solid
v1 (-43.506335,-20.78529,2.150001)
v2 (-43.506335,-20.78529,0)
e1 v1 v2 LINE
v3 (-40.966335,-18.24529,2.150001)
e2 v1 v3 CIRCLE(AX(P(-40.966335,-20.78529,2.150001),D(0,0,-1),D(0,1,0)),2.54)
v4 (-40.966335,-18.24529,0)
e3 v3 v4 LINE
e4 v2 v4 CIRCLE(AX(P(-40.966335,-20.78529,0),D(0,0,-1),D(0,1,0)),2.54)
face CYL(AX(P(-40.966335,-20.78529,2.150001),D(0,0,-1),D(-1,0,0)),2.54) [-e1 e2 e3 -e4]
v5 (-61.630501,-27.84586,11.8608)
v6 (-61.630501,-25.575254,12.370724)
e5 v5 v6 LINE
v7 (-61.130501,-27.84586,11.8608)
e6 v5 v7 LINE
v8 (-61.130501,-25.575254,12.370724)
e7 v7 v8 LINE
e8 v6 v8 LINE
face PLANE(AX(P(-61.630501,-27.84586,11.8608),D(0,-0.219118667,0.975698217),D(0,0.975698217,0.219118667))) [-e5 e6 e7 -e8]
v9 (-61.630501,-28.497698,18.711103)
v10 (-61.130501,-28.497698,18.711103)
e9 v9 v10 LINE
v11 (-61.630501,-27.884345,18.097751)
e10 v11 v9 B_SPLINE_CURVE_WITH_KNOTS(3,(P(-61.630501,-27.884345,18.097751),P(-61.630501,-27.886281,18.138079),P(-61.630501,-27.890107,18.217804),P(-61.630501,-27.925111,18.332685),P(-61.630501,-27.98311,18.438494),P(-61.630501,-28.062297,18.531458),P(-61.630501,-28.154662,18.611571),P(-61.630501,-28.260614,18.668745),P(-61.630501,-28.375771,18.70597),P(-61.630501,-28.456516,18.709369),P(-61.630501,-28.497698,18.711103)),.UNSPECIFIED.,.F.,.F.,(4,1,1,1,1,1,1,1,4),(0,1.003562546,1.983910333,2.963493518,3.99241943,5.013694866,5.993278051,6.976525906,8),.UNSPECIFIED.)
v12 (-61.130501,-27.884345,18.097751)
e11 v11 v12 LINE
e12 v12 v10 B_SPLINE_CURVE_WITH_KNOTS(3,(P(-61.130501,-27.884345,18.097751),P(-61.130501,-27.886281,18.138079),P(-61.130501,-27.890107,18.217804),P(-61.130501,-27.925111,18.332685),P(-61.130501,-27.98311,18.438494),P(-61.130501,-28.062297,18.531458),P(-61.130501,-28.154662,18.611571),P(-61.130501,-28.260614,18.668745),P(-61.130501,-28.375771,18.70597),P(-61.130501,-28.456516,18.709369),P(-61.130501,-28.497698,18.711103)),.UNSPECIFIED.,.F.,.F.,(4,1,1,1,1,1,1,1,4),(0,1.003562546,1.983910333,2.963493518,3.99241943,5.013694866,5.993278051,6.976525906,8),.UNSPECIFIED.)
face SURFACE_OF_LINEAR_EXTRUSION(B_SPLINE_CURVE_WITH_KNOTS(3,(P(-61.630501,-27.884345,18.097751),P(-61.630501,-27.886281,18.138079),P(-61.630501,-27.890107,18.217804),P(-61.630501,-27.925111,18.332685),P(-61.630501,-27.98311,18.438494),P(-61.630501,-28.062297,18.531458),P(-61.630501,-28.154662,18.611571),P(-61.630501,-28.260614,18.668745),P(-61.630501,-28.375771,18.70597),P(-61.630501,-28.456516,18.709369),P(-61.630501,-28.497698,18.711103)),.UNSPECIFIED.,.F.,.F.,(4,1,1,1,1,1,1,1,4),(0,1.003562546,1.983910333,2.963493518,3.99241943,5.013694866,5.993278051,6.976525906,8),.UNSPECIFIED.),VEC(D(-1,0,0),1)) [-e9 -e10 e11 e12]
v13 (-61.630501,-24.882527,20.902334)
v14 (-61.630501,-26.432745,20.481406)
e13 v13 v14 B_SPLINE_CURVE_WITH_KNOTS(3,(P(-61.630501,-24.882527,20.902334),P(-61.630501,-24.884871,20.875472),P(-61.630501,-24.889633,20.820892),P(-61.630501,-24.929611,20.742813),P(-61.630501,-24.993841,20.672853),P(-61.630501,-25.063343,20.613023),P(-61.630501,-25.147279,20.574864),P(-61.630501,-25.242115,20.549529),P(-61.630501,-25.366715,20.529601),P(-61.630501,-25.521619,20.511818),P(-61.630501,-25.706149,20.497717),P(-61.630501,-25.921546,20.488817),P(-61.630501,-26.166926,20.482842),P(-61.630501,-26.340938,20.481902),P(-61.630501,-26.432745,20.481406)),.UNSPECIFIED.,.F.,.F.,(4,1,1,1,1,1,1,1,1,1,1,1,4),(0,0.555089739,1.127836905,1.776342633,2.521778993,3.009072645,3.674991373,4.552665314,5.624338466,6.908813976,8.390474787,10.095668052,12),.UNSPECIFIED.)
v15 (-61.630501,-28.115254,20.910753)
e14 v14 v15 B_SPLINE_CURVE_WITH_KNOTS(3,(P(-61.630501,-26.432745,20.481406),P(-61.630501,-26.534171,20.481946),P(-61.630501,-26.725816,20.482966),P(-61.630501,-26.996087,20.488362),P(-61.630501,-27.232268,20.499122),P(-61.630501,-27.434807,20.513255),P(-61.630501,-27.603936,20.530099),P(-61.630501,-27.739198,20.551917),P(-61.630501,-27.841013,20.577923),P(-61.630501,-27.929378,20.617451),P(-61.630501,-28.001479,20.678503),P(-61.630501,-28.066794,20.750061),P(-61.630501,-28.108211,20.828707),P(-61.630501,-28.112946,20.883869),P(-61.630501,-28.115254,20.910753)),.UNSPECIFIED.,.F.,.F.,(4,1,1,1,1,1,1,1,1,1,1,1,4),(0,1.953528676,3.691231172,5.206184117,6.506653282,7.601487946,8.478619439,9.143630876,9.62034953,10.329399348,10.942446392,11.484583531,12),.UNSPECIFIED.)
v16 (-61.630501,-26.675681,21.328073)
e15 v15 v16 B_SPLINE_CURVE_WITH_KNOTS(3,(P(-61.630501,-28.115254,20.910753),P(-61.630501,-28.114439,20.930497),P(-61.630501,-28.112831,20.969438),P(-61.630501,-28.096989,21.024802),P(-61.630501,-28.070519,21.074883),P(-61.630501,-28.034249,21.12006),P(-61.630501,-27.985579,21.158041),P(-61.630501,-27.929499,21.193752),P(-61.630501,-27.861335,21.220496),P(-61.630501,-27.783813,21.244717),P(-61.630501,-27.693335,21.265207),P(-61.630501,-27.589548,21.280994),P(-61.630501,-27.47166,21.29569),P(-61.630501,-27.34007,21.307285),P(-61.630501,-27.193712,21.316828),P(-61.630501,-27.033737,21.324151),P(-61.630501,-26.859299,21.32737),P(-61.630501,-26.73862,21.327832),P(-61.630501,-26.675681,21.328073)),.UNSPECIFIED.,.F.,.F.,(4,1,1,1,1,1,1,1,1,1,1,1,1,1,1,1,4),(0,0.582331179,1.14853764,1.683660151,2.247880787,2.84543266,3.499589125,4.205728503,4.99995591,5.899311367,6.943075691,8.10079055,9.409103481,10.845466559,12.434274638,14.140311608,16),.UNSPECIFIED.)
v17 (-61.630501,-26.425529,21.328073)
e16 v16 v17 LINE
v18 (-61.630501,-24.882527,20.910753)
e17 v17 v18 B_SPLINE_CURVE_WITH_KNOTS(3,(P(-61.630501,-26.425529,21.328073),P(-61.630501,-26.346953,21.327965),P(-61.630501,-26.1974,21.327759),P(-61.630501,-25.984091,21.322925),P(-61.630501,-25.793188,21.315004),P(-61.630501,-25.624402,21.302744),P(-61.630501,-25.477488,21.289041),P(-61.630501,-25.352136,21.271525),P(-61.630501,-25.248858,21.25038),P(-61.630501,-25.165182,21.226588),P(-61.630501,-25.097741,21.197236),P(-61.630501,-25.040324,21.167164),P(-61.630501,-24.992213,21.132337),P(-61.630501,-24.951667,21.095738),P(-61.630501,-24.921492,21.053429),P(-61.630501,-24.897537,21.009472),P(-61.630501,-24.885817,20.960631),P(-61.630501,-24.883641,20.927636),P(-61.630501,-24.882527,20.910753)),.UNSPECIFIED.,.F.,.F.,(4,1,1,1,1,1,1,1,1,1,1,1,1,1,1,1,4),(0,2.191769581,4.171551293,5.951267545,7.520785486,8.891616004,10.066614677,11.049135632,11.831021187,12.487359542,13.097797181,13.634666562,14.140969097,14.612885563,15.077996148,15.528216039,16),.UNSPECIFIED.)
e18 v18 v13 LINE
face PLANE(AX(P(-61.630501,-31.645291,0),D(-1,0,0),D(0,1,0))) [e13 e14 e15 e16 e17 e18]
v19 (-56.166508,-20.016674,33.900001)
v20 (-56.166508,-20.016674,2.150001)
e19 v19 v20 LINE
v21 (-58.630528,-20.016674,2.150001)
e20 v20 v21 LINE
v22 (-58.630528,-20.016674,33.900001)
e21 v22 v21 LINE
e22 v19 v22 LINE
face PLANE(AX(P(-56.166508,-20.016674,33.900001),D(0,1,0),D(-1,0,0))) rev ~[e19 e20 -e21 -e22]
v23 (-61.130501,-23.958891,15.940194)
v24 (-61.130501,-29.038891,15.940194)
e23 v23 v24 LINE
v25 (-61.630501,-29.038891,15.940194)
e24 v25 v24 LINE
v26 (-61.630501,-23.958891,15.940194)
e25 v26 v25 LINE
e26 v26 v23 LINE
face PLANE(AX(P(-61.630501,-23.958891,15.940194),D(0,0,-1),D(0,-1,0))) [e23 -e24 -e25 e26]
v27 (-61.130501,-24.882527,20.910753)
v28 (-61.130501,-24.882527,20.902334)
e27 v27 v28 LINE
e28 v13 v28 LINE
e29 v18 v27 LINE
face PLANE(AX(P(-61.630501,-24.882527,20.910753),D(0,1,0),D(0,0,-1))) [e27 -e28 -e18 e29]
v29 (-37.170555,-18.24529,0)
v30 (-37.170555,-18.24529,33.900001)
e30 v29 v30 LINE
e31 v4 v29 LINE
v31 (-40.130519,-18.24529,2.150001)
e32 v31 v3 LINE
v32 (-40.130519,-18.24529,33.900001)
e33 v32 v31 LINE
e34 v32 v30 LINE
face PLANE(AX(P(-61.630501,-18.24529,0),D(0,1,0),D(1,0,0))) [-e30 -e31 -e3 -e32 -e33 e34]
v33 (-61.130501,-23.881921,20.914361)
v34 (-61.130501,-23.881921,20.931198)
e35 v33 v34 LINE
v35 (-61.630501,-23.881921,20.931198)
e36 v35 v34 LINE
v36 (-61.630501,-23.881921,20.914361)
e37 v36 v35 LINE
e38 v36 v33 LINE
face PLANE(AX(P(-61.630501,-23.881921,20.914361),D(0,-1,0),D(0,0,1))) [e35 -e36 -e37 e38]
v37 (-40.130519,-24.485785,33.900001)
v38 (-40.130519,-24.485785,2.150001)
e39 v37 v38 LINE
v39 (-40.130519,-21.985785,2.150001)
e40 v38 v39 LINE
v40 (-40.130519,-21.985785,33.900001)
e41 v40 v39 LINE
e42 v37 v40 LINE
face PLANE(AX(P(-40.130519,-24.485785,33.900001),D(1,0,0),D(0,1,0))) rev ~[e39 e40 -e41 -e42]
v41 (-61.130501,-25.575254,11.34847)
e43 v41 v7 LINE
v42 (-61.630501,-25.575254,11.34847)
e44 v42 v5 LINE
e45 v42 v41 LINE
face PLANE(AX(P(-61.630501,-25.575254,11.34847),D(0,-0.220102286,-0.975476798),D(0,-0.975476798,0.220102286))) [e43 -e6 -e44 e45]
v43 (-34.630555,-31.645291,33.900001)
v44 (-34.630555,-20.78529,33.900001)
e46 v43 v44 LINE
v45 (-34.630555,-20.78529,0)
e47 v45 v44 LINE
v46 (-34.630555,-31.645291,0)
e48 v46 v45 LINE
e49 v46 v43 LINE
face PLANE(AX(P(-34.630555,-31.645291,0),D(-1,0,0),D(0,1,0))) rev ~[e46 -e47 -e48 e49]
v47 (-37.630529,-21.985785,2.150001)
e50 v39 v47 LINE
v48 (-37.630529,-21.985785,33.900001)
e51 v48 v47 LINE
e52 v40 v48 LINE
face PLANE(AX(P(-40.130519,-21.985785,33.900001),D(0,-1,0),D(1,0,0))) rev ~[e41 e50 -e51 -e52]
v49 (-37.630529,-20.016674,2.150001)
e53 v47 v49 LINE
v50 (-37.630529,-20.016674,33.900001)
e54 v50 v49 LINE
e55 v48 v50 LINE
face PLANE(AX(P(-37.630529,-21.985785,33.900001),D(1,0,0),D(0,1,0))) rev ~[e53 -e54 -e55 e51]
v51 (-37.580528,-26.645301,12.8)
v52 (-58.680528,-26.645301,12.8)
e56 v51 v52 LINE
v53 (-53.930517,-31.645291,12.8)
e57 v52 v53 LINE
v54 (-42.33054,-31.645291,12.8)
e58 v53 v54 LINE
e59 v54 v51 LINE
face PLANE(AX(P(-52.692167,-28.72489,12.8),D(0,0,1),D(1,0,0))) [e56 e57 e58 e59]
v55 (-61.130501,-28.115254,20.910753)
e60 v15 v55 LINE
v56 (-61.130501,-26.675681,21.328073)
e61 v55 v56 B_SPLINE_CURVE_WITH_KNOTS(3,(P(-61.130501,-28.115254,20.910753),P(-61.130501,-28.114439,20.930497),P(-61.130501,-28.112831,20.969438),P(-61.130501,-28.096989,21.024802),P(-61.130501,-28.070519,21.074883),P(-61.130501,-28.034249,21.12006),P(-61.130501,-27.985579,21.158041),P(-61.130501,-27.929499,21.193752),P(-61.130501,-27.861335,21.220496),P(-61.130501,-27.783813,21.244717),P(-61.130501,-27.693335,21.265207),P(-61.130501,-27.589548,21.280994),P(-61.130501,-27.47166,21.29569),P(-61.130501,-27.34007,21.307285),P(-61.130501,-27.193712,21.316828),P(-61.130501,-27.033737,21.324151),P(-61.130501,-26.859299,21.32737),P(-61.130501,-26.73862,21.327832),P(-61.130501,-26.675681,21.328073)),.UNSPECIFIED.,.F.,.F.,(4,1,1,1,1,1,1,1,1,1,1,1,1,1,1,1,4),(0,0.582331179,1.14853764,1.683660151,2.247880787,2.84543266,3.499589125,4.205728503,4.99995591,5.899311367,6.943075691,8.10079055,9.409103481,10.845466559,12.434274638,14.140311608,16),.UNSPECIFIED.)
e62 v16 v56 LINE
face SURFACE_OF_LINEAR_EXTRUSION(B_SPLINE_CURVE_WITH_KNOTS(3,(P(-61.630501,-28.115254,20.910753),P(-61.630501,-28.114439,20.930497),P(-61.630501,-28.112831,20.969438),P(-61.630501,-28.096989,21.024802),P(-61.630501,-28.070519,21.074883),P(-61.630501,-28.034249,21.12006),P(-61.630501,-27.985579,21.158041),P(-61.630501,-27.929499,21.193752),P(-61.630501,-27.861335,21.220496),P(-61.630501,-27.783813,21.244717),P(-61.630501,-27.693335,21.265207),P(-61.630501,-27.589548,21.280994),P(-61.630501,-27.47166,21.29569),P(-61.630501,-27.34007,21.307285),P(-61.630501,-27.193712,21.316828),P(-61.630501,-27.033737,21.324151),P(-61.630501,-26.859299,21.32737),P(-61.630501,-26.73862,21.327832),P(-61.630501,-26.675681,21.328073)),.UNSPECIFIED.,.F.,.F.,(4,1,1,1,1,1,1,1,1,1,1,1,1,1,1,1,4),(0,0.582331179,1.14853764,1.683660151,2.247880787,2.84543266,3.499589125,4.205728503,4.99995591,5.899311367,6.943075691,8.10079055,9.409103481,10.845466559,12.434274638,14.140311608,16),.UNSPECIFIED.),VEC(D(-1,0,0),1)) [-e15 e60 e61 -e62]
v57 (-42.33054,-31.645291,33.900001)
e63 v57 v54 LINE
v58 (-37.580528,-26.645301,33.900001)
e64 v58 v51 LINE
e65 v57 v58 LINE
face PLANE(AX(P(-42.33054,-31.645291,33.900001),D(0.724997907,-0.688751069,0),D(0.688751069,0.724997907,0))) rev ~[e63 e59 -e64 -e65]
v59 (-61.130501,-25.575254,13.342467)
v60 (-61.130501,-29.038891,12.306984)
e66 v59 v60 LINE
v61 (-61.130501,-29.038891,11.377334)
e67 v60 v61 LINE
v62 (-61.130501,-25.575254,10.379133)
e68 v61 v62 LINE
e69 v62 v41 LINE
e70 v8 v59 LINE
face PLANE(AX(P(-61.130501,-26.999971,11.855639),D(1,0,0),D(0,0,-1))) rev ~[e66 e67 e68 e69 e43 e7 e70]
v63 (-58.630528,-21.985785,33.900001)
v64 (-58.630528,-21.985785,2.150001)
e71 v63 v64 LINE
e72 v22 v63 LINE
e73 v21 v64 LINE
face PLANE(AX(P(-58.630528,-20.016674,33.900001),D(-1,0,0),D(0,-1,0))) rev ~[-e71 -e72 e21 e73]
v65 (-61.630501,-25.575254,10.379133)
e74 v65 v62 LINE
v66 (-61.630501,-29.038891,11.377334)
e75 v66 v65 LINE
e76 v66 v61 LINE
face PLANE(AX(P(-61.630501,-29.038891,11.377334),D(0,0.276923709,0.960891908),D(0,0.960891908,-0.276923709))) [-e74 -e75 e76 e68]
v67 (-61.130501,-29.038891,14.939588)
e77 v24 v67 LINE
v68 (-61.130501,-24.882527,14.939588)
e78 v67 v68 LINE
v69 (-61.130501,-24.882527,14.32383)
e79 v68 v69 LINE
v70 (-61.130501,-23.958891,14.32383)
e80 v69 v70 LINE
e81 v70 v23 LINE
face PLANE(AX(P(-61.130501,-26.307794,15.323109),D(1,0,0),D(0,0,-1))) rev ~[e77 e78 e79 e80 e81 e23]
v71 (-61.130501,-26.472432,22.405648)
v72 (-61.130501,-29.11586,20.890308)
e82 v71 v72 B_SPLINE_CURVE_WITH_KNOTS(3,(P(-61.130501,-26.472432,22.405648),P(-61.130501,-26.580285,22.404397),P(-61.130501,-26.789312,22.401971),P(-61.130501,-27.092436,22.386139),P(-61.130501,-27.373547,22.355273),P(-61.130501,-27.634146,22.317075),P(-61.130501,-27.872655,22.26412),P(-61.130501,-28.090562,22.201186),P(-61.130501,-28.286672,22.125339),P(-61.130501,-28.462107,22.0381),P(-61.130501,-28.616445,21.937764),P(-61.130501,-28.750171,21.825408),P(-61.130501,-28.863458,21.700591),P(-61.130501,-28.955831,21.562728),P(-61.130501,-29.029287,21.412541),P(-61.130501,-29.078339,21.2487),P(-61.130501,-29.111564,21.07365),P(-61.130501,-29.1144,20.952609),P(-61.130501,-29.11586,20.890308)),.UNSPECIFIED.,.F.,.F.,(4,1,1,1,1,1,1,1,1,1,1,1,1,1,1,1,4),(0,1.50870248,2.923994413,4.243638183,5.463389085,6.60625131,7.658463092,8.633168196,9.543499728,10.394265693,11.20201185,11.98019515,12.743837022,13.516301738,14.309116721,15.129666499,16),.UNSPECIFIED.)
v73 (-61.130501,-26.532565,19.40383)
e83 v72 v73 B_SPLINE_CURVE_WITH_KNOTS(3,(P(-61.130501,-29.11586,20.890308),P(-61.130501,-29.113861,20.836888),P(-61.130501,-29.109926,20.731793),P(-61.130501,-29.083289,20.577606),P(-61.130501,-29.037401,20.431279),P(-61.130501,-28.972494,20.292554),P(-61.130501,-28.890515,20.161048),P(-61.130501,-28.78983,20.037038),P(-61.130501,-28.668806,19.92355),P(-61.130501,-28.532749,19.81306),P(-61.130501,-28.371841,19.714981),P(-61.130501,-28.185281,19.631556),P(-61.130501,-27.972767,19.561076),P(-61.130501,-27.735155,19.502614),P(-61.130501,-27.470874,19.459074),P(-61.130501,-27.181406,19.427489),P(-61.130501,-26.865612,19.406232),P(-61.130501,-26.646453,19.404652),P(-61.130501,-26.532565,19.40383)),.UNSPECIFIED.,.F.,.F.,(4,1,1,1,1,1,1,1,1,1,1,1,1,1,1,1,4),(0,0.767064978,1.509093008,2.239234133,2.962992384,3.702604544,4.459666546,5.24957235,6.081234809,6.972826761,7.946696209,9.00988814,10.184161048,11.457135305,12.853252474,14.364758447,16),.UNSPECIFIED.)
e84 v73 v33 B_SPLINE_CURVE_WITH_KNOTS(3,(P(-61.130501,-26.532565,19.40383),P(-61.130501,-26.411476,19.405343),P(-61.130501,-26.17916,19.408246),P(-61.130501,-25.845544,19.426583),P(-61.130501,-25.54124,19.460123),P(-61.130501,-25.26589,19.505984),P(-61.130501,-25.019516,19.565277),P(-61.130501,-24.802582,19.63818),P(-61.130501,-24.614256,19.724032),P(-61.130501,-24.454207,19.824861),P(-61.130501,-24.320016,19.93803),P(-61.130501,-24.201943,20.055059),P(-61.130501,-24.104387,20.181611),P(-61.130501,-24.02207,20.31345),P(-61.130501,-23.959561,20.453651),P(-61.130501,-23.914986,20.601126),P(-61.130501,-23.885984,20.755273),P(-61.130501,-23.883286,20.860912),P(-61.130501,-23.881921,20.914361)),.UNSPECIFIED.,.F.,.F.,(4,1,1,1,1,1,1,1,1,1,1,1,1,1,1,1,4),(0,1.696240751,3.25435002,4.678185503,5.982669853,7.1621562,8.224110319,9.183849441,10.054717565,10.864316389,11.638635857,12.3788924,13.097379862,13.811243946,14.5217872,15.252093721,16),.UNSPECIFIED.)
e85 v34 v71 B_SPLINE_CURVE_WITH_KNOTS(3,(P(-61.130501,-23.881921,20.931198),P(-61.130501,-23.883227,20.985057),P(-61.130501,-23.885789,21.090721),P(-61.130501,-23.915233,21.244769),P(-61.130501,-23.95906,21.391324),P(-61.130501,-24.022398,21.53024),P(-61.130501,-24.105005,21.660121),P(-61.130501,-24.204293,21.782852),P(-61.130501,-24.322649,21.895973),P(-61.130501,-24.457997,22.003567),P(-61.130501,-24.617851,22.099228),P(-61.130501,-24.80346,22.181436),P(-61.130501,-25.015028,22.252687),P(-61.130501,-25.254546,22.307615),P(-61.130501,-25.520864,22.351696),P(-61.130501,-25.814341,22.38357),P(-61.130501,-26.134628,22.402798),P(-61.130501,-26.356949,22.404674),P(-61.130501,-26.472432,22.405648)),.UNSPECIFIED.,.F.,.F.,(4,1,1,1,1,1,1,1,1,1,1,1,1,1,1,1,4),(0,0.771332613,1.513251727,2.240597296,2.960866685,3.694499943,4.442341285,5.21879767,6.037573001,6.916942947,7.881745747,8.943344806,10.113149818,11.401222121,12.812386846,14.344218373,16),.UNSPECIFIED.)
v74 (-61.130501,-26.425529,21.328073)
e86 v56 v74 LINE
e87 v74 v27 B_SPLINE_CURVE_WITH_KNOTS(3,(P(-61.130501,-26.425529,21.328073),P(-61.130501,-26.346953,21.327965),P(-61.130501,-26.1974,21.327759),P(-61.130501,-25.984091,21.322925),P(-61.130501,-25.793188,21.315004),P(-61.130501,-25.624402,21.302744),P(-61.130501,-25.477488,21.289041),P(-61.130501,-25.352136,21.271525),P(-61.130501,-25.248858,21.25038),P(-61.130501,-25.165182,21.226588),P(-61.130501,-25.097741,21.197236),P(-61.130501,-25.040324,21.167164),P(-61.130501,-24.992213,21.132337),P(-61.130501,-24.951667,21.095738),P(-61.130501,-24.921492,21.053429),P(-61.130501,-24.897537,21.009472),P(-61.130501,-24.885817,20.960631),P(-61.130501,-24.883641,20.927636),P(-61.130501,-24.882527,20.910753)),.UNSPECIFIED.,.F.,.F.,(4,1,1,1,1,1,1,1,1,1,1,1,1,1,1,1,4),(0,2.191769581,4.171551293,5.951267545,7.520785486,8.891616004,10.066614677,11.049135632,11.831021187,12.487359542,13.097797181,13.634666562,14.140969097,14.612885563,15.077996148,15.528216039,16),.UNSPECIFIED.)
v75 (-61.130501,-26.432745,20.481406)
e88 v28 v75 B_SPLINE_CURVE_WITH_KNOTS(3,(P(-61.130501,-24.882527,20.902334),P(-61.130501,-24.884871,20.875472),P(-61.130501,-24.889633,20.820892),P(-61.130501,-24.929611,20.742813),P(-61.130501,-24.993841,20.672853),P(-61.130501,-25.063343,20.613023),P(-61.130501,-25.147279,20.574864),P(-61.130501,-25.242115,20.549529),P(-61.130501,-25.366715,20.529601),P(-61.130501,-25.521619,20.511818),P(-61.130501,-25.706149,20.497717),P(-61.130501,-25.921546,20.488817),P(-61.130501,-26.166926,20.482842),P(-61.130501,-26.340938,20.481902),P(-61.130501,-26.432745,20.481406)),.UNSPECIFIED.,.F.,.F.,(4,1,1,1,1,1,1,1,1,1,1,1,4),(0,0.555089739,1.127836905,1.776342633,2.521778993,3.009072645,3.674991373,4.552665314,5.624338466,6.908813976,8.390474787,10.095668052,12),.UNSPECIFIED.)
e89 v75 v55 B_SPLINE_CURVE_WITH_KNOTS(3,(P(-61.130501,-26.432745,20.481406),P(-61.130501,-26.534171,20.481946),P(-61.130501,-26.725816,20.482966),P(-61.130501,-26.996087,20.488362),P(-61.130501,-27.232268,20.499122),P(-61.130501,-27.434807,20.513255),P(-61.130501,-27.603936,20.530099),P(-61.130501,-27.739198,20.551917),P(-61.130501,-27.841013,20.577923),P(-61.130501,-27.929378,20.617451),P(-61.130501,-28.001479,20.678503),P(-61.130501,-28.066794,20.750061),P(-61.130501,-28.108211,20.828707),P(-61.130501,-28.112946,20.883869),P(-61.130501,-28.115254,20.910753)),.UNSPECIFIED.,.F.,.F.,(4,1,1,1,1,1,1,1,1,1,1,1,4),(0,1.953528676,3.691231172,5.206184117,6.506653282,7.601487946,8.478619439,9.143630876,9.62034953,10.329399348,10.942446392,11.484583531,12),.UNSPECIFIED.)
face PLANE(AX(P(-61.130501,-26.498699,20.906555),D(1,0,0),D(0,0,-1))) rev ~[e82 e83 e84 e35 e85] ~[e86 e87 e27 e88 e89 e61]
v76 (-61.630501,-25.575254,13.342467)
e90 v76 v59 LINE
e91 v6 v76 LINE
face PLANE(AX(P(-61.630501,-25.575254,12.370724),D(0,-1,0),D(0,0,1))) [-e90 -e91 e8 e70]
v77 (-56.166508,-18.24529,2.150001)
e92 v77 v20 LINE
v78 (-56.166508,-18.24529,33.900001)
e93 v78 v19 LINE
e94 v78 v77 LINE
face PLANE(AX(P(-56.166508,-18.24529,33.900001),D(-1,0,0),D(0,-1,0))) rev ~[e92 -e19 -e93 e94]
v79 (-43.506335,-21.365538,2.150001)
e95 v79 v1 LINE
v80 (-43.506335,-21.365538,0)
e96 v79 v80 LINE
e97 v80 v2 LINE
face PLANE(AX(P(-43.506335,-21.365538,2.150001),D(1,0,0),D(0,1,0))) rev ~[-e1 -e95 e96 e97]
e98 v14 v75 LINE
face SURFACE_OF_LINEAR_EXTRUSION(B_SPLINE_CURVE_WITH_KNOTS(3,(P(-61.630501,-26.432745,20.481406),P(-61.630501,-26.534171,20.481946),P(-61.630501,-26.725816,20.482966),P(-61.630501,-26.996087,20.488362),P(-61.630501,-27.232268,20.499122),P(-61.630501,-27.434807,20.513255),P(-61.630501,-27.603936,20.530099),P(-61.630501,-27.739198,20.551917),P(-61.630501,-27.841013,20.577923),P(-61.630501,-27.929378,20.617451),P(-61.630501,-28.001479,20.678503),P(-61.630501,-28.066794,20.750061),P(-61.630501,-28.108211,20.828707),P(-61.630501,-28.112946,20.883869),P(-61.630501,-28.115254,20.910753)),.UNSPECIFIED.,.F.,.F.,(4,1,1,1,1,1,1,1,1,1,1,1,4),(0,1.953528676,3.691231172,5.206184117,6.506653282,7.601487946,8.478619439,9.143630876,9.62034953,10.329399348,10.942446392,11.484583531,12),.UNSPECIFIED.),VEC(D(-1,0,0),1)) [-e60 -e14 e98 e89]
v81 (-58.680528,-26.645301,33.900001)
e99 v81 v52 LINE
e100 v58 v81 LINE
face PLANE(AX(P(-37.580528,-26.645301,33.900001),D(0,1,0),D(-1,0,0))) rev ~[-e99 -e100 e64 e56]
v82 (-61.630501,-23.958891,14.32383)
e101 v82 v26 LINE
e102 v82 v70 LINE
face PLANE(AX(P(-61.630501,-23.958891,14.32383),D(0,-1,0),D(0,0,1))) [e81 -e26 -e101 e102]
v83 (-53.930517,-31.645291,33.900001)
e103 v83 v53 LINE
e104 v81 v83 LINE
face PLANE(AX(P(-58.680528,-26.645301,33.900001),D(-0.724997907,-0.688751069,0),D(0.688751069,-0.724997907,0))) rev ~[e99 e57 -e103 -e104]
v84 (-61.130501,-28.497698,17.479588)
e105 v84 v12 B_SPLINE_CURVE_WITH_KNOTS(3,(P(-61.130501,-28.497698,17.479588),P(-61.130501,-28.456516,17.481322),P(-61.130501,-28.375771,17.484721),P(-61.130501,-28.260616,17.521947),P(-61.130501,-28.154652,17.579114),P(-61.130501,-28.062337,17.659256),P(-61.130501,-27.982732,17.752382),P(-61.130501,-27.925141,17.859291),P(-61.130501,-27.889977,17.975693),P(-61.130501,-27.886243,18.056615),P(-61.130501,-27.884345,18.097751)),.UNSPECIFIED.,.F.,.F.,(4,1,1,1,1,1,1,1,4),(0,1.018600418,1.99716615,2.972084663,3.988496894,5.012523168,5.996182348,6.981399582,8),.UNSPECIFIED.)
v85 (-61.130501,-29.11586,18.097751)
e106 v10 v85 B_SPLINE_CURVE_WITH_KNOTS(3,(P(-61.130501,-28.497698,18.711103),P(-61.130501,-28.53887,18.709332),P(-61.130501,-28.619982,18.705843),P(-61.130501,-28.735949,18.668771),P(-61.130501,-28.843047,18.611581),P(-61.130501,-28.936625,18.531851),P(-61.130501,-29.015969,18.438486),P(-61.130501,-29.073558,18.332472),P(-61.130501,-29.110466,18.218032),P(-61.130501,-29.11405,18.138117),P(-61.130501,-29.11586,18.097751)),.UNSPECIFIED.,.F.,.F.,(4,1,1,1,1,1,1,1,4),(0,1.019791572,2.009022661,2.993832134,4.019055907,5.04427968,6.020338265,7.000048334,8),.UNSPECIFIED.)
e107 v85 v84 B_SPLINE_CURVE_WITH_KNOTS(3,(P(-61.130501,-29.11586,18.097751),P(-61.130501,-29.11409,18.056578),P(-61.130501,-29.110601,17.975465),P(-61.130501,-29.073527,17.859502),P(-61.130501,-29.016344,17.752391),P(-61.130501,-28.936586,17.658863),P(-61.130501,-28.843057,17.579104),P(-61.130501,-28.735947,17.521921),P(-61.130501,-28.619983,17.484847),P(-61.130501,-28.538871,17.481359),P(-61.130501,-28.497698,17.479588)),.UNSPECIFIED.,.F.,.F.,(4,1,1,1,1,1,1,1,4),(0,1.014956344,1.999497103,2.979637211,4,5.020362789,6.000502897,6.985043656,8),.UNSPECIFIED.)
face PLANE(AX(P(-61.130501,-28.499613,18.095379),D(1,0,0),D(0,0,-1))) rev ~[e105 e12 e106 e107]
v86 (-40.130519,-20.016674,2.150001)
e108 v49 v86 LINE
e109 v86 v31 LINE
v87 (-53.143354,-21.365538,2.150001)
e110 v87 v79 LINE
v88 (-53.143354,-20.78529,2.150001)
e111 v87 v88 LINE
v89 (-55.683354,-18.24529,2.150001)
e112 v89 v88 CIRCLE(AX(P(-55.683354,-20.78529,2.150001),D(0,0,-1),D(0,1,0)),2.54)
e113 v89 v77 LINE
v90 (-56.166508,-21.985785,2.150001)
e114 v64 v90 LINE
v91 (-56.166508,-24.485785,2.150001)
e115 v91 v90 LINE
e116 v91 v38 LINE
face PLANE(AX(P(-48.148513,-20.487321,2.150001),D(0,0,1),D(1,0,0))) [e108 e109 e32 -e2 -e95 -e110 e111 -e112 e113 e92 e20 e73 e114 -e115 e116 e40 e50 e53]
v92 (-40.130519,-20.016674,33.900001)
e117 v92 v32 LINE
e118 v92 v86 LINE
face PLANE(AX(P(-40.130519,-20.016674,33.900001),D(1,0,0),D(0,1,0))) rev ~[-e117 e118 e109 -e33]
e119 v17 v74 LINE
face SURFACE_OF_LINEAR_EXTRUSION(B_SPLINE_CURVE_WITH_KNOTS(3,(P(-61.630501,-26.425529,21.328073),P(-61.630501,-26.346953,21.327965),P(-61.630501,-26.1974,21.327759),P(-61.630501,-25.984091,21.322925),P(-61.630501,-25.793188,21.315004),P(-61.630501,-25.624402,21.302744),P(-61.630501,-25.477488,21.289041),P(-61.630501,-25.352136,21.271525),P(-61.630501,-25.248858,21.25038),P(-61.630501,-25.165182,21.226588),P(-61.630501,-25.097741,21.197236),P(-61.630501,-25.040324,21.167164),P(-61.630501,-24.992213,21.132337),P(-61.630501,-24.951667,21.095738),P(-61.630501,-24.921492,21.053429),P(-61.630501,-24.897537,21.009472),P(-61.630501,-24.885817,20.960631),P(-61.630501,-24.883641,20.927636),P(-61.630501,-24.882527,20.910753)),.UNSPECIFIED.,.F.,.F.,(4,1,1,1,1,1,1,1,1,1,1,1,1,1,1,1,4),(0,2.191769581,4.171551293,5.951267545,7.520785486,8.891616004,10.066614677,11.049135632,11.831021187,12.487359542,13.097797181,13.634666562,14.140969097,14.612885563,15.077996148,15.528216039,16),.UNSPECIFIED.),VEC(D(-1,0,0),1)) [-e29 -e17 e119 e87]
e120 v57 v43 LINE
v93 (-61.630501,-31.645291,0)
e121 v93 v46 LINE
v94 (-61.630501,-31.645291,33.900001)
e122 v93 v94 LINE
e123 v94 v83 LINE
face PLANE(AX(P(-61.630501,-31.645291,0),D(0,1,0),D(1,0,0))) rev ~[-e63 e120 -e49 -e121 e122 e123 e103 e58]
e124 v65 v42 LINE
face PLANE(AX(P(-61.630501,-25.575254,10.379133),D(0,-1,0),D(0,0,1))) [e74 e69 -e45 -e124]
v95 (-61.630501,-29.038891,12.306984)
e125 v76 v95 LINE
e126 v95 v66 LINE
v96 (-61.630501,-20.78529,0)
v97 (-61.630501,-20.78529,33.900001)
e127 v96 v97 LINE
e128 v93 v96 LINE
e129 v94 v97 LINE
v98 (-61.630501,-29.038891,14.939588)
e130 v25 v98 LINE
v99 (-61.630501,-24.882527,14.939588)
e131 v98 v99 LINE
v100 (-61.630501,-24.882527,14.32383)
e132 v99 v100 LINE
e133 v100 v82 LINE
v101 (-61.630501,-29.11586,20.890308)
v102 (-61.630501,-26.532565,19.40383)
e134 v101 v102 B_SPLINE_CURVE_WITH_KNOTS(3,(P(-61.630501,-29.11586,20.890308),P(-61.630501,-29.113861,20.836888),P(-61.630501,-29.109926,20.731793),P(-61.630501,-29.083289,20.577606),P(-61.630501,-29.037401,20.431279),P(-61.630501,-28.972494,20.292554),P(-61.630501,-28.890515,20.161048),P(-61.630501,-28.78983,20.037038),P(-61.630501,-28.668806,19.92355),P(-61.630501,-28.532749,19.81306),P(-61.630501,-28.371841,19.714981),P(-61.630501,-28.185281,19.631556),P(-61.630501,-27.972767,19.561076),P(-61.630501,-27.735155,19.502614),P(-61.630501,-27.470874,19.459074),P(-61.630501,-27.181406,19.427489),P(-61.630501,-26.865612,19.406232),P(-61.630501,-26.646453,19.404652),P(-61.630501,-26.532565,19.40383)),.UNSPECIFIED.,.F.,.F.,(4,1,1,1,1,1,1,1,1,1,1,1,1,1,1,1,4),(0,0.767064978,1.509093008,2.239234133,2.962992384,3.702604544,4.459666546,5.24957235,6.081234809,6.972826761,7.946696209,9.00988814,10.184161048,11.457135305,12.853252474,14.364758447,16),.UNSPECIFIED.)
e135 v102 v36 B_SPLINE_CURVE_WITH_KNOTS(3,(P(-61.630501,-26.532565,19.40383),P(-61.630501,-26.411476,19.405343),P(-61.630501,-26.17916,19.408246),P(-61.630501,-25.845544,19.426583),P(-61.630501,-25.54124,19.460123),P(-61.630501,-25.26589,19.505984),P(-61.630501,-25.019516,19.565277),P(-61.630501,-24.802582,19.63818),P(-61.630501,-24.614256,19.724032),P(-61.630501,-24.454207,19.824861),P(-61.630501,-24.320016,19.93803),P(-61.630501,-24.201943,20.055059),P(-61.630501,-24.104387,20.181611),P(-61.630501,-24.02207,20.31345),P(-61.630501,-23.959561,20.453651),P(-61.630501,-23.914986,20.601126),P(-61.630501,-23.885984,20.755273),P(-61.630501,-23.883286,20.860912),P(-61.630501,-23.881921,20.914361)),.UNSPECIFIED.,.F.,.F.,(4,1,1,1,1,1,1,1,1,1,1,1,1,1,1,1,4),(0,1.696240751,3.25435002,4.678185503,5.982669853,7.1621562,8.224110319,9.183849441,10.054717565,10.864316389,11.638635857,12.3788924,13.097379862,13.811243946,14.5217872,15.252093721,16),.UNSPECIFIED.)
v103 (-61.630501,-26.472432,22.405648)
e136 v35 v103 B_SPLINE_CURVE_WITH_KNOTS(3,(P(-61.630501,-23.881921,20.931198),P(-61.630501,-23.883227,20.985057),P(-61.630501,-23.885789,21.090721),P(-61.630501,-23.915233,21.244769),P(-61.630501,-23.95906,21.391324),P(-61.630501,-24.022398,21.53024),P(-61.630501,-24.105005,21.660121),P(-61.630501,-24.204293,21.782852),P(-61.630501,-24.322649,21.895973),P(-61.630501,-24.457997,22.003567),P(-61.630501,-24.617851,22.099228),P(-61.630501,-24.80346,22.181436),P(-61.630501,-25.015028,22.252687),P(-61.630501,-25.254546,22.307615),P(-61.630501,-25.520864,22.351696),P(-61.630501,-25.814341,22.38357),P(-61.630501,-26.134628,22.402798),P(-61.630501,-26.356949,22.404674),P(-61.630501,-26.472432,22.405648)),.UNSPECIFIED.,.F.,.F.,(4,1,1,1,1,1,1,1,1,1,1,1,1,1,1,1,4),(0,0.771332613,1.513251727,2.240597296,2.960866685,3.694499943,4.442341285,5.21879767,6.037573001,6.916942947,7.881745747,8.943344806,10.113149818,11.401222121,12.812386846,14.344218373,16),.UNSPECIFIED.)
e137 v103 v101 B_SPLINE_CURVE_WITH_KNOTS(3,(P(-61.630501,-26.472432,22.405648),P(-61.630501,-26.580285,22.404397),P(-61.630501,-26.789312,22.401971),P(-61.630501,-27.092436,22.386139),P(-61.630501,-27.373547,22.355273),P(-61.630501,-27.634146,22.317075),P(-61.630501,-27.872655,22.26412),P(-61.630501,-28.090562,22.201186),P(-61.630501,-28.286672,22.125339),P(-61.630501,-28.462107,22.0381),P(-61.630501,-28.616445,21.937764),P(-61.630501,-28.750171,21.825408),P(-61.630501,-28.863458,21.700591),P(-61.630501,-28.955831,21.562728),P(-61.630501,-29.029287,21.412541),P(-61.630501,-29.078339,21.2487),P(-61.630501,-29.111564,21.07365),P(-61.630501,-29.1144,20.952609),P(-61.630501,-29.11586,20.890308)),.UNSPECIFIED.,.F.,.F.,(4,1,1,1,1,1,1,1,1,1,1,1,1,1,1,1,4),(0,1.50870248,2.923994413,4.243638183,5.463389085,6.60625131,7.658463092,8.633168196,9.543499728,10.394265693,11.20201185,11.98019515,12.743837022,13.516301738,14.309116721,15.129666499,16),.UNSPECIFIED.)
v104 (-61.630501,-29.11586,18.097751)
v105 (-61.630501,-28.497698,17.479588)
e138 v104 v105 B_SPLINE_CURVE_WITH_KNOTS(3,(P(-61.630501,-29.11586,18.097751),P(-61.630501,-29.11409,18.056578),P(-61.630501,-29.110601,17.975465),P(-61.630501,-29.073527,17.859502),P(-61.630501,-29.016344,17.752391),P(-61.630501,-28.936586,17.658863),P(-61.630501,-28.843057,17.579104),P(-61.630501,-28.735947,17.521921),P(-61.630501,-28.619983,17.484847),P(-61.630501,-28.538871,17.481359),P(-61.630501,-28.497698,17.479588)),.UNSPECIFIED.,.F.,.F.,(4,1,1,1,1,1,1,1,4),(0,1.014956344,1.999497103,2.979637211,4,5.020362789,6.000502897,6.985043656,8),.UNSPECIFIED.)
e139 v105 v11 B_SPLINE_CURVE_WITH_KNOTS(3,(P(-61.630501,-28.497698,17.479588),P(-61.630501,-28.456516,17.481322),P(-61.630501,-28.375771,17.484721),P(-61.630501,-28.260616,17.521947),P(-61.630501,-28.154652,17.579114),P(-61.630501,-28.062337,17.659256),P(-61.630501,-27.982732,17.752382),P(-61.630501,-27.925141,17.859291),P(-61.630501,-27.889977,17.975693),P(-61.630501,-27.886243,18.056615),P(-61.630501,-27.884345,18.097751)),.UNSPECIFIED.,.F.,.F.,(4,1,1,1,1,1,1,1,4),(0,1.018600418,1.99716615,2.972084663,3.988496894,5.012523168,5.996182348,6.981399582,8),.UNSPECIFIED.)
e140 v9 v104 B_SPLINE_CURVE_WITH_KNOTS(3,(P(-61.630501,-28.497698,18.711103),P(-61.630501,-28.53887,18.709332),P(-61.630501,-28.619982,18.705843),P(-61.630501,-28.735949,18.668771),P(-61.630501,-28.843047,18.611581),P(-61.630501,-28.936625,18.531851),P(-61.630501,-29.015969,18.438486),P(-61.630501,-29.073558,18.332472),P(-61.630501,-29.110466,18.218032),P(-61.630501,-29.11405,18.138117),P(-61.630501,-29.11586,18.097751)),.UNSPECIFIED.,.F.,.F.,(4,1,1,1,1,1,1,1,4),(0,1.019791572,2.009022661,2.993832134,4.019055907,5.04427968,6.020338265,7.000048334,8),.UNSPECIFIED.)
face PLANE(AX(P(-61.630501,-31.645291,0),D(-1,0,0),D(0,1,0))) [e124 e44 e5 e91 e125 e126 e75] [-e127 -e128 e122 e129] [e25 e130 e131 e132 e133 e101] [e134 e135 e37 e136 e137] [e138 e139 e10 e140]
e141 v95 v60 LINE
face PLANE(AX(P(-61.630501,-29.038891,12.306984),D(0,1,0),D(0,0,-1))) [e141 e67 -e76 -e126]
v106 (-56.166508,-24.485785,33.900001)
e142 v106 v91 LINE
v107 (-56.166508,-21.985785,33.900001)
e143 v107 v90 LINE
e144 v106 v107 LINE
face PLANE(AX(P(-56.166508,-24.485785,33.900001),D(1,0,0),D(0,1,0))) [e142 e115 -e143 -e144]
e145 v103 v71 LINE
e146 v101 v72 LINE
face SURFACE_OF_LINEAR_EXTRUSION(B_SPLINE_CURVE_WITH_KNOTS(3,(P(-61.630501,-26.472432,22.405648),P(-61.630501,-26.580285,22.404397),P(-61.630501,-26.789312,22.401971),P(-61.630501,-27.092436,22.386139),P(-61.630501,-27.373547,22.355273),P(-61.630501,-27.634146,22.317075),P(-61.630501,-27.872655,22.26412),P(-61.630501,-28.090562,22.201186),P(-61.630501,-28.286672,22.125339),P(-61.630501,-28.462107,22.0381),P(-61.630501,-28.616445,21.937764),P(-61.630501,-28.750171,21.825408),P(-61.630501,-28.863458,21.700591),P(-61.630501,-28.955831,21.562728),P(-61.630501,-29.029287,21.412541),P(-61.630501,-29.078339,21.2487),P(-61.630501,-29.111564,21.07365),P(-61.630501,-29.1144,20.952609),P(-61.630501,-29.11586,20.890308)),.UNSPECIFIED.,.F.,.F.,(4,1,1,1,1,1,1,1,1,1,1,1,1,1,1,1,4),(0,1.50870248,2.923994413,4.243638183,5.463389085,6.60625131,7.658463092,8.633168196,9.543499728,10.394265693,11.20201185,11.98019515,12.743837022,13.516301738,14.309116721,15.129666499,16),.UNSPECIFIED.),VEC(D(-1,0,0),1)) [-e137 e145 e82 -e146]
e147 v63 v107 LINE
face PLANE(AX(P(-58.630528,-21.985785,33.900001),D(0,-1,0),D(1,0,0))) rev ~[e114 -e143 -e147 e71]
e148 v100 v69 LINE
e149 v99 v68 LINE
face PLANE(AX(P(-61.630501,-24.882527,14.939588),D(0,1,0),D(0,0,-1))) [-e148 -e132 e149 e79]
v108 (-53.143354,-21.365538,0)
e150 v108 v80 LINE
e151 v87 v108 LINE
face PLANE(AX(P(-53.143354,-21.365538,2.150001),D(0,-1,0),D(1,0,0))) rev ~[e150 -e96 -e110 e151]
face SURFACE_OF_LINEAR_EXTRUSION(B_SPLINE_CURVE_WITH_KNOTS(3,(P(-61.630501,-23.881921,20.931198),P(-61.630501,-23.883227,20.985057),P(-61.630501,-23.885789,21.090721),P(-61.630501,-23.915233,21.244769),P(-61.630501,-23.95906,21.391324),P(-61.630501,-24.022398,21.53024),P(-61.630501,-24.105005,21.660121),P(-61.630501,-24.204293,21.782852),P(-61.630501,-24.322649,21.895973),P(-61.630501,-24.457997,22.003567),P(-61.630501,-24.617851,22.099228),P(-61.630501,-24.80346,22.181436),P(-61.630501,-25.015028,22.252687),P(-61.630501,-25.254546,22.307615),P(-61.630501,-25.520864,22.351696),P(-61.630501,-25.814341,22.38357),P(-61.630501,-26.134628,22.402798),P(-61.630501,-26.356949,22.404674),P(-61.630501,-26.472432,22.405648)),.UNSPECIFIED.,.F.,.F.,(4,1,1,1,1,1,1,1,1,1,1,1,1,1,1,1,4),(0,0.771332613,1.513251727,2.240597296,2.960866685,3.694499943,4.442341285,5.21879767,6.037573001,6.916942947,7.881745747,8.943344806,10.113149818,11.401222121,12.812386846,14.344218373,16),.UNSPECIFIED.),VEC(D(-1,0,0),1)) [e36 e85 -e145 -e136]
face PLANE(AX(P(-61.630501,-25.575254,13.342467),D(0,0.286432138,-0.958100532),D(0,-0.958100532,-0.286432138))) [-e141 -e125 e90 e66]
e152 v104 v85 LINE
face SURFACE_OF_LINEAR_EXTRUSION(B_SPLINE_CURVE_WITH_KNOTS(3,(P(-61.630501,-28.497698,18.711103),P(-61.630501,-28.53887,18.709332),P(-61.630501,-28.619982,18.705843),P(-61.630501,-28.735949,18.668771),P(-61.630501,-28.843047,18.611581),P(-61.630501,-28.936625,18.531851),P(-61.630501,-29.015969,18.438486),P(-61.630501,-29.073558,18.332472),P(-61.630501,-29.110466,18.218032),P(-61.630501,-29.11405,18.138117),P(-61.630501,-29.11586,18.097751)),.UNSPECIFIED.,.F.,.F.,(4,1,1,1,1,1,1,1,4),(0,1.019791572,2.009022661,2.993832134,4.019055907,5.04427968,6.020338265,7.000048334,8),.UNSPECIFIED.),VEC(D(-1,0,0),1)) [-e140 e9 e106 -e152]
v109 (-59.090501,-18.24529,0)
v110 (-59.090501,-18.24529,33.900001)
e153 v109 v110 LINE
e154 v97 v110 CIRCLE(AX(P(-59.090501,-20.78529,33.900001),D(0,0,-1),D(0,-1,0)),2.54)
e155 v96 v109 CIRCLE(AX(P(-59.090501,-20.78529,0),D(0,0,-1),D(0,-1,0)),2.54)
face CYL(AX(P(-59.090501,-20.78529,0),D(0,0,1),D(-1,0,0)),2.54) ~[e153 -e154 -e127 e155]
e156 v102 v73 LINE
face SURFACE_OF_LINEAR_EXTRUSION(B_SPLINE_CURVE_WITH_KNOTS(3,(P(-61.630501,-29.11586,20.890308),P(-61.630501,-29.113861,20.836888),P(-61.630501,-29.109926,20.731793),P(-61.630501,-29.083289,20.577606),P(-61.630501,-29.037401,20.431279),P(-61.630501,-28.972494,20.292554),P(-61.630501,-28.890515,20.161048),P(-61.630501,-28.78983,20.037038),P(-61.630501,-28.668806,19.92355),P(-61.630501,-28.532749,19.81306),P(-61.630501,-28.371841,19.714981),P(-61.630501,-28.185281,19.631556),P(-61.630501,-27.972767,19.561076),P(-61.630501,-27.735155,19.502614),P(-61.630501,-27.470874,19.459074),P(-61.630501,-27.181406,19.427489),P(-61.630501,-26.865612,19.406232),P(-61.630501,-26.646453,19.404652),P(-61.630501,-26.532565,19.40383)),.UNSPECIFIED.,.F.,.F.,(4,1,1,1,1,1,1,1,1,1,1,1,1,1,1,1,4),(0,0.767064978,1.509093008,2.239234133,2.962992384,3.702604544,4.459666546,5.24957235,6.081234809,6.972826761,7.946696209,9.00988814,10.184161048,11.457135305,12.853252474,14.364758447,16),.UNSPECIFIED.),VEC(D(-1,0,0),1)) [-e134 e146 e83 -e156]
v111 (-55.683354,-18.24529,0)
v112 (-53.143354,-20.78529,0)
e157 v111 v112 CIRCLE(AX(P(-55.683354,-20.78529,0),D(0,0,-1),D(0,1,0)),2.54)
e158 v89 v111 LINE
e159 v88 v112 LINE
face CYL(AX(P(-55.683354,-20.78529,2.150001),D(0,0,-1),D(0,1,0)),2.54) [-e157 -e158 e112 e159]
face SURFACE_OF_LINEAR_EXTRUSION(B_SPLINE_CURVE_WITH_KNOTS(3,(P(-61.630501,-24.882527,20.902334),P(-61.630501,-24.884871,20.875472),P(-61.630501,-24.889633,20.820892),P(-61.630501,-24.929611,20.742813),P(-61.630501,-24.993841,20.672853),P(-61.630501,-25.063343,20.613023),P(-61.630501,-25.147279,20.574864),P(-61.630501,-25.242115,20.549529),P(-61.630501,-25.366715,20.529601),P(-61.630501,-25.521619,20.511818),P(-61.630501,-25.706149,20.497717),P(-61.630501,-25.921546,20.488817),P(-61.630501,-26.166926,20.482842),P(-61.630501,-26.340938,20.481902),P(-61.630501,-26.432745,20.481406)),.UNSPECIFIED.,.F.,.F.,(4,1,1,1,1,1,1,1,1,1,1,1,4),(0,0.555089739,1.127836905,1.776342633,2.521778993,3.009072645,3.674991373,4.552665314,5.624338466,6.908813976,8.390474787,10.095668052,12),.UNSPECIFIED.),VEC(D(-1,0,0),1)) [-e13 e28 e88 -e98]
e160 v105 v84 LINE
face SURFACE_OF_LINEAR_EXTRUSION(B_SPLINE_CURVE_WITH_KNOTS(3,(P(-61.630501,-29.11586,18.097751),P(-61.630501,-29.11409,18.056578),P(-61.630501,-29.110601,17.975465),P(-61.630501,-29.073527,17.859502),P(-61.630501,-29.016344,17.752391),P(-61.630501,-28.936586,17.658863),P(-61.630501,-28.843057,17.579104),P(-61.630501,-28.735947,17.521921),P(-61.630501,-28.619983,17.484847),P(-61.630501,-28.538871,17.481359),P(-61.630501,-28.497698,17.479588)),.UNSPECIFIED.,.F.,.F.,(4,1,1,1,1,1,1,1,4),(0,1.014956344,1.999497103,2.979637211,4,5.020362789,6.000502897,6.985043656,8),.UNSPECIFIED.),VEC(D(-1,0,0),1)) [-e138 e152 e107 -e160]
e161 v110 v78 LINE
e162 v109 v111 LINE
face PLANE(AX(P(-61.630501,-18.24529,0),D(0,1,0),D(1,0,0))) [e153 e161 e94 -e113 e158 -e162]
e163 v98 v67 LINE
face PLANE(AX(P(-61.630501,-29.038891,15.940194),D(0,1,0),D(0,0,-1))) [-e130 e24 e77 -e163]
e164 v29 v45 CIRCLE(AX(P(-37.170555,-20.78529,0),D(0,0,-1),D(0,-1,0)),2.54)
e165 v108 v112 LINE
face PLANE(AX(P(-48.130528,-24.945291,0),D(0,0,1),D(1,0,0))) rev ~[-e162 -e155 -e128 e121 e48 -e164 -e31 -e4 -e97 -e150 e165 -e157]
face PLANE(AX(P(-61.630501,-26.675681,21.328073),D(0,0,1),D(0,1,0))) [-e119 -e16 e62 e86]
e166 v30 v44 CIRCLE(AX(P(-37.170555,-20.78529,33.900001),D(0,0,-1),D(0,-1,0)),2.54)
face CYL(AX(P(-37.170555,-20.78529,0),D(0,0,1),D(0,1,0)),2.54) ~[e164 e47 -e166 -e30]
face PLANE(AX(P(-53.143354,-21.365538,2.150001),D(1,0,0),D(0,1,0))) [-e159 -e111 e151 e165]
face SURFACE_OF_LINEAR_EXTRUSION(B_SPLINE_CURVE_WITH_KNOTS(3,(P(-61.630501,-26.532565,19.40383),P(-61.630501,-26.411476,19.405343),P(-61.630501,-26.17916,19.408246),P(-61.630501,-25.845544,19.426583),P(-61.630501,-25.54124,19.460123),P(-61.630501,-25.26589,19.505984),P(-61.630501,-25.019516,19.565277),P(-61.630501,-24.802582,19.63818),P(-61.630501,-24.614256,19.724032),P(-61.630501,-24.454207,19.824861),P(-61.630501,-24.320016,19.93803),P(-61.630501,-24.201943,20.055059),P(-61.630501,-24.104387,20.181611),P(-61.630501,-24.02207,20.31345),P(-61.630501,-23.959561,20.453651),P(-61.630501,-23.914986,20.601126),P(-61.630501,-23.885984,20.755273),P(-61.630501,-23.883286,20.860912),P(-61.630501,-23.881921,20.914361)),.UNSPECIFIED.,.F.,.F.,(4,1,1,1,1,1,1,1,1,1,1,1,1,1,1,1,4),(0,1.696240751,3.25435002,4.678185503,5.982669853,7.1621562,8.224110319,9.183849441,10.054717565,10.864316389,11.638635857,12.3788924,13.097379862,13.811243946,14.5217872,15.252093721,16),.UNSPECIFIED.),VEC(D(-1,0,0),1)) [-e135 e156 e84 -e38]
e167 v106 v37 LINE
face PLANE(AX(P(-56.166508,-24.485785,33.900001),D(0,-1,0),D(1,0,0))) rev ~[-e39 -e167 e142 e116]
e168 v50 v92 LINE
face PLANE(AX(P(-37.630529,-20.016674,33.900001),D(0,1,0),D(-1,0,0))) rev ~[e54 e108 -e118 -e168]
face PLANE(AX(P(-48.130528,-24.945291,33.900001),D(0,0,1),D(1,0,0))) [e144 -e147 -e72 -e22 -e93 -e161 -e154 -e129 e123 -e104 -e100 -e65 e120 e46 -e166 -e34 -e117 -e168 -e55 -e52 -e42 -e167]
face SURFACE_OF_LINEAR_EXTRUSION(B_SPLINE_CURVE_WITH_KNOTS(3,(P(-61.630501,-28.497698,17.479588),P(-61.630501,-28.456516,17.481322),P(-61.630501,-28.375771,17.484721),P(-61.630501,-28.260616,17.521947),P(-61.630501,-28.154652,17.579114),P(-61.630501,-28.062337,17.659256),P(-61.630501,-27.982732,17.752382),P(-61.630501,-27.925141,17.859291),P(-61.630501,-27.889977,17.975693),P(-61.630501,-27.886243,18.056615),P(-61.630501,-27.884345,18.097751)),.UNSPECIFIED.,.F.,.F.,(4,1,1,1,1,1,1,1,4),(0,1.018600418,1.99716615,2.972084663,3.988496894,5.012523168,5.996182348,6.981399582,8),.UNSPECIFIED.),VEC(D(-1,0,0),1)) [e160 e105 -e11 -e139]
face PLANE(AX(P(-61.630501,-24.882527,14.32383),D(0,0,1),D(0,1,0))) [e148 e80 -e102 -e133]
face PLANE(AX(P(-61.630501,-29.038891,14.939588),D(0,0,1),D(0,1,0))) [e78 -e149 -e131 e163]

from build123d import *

# Parameters (mm, degrees)
SKETCH1_W           = 26.999946
SKETCH1_H           = 13.40000114
BOSS_EXTRUDE2_DEPTH = 33.90000078
FILLET2_R           = 2.54
FILLET6_R           = 2.54
CUT_EXTRUDE3_DEPTH  = 31.75
CUT_EXTRUDE4_DEPTH  = 21.10000098
SKETCH13_W          = 9.637018572
SKETCH13_H          = 3.12024758
CUT_EXTRUDE5_DEPTH  = 21.10000098
FILLET7_R           = 2.54
FILLET8_R           = 2.54
CUT_EXTRUDE6_DEPTH  = 0.5


with BuildPart() as part:
    # Sketch1 → Boss-Extrude2 (new body)
    with BuildSketch(Plane.XY):
        with Locations((-48.130528347, -24.945290526)):
            Rectangle(SKETCH1_W, SKETCH1_H)
    extrude(amount=BOSS_EXTRUDE2_DEPTH)

    # Fillet2
    fillet2_edges = [part.edges().sort_by_distance(p)[0] for p in [
        (-61.630501347, -18.245289956, 16.95000039),
    ]]
    fillet(fillet2_edges, radius=FILLET2_R)

    # Fillet6
    fillet6_edges = [part.edges().sort_by_distance(p)[0] for p in [
        (-34.630555347, -18.245289956, 16.95000039),
    ]]
    fillet(fillet6_edges, radius=FILLET6_R)

    # Sketch5 → Cut-Extrude3 (cut)
    with BuildSketch(Plane.XY.offset(33.90000078)):
        Polygon((-40.130518947, -18.245289956), (-56.166507941, -18.245289956), (-56.166507941, -20.01667393), (-58.630527667, -20.01667393), (-58.630527667, -21.985785037), (-56.166507941, -21.985785037), (-56.166507941, -24.485785117), (-40.130518947, -24.485785117), (-40.130518947, -21.985785037), (-37.630529027, -21.985785037), (-37.630529027, -20.01667393), (-40.130518947, -20.01667393), align=None)
    extrude(amount=-CUT_EXTRUDE3_DEPTH, mode=Mode.SUBTRACT)

    # Sketch5<10> → Cut-Extrude4 (cut)
    with BuildSketch(Plane.XY.offset(33.90000078)):
        Polygon((-37.580528365, -26.645301096), (-58.680528329, -26.645301096), (-53.930516747, -31.645291096), (-42.330539947, -31.645291096), align=None)
    extrude(amount=-CUT_EXTRUDE4_DEPTH, mode=Mode.SUBTRACT)

    # Sketch13 → Cut-Extrude5 (cut)
    with BuildSketch(Plane.XY.offset(2.15000078)):
        with Locations((-48.324844449, -19.805413746)):
            Rectangle(SKETCH13_W, SKETCH13_H)
    extrude(amount=-CUT_EXTRUDE5_DEPTH, mode=Mode.SUBTRACT)

    # Fillet7
    fillet7_edges = [part.edges().sort_by_distance(p)[0] for p in [
        (-53.143353735, -18.245289956, 1.07500039),
    ]]
    fillet(fillet7_edges, radius=FILLET7_R)

    # Fillet8
    fillet8_edges = [part.edges().sort_by_distance(p)[0] for p in [
        (-43.506335163, -18.245289956, 1.07500039),
    ]]
    fillet(fillet8_edges, radius=FILLET8_R)

    # Sketch14 → Cut-Extrude6 (cut)
    # profile 1 of 4: a face of its own
    with BuildSketch(Plane.ZY.offset(61.630501347)):
        Polygon((10.379133327, -25.575254401), (11.348470448, -25.575254401), (11.860799994, -27.845860462), (12.370724236, -25.575254401), (13.34246666, -25.575254401), (12.306983706, -29.038890765), (11.377334084, -29.038890765), align=None)
    # profile 2 of 4: a face of its own
    with BuildSketch(Plane.ZY.offset(61.630501347)):
        Polygon((15.940193933, -29.038890765), (14.939587872, -29.038890765), (14.939587872, -24.882527129), (14.323830297, -24.882527129), (14.323830297, -23.958890765), (15.940193933, -23.958890765), align=None)
    # profile 3 of 4: a face of its own
    with BuildSketch(Plane.ZY.offset(61.630501347)):
        with BuildLine():
            add(Edge.make_bspline(
                [(18.097750751, -27.88434531), (18.138079406, -27.886280917), (18.217803819, -27.890107354), (18.332685422, -27.925110839), (18.438493733, -27.983109537), (18.53145822, -28.062297179), (18.611571397, -28.154662261), (18.668745196, -28.260613669), (18.705969735, -28.375771267), (18.709369212, -28.456515949), (18.711103024, -28.497697583)],
                knots=[0, 0, 0, 0, 1.003562546, 1.983910333, 2.963493518, 3.99241943, 5.013694866, 5.993278051, 6.976525906, 8, 8, 8, 8], degree=3))
            add(Edge.make_bspline(
                [(18.711103024, -28.497697583), (18.709332109, -28.538870465), (18.705843349, -28.619982384), (18.66877096, -28.735949334), (18.61158104, -28.843047203), (18.531851067, -28.936625461), (18.438485669, -29.015968524), (18.332472116, -29.073558386), (18.218032192, -29.110465638), (18.138116937, -29.114049971), (18.097750751, -29.115860462)],
                knots=[0, 0, 0, 0, 1.019791572, 2.009022661, 2.993832134, 4.019055907, 5.04427968, 6.020338265, 7.000048334, 8, 8, 8, 8], degree=3))
            add(Edge.make_bspline(
                [(18.097750751, -29.115860462), (18.056577634, -29.114089682), (17.975465252, -29.110601189), (17.859501693, -29.073526848), (17.7523909, -29.016344367), (17.658862826, -28.936585509), (17.579103967, -28.843057434), (17.521921486, -28.735946641), (17.484847145, -28.619983083), (17.481358652, -28.5388707), (17.479587872, -28.497697583)],
                knots=[0, 0, 0, 0, 1.014956344, 1.999497103, 2.979637211, 4, 5.020362789, 6.000502897, 6.985043656, 8, 8, 8, 8], degree=3))
            add(Edge.make_bspline(
                [(17.479587872, -28.497697583), (17.481321547, -28.456515711), (17.484720757, -28.375770564), (17.52194724, -28.260616349), (17.579113639, -28.15465206), (17.659255671, -28.062337208), (17.752381665, -27.98273207), (17.859290503, -27.925141489), (17.975692779, -27.889977159), (18.056615376, -27.886243328), (18.097750751, -27.88434531)],
                knots=[0, 0, 0, 0, 1.018600418, 1.99716615, 2.972084663, 3.988496894, 5.012523168, 5.996182348, 6.981399582, 8, 8, 8, 8], degree=3))
        make_face()
    # profile 4 of 4: a face of its own
    with BuildSketch(Plane.ZY.offset(61.630501347)):
        with BuildLine():
            add(Edge.make_bspline(
                [(20.931197721, -23.881921068), (20.985056731, -23.883226878), (21.090720928, -23.885788702), (21.244769307, -23.9152334), (21.391323862, -23.959060405), (21.53023961, -24.022398267), (21.660121307, -24.105005226), (21.782851726, -24.204293049), (21.895973442, -24.322648707), (22.003567328, -24.45799688), (22.099228141, -24.617851329), (22.181436149, -24.803459821), (22.252687382, -25.015027832), (22.307614559, -25.254546124), (22.351696434, -25.520863888), (22.383569998, -25.814341296), (22.402798135, -26.134628461), (22.404674049, -26.356949463), (22.405648478, -26.472432432)],
                knots=[0, 0, 0, 0, 0.771332613, 1.513251727, 2.240597296, 2.960866685, 3.694499943, 4.442341285, 5.21879767, 6.037573001, 6.916942947, 7.881745747, 8.943344806, 10.113149818, 11.401222121, 12.812386846, 14.344218373, 16, 16, 16, 16], degree=3))
            add(Edge.make_bspline(
                [(22.405648478, -26.472432432), (22.404396907, -26.580284923), (22.401971255, -26.789312273), (22.386138652, -27.092435851), (22.355273116, -27.373547315), (22.317074669, -27.634146245), (22.264120154, -27.872655129), (22.201185652, -28.090561812), (22.12533943, -28.286671889), (22.038100385, -28.462107021), (21.937763793, -28.616445143), (21.825408362, -28.750170898), (21.700591375, -28.863457877), (21.56272832, -28.955830715), (21.412541396, -29.02928702), (21.248699637, -29.078338647), (21.073649557, -29.111564085), (20.95260947, -29.114400499), (20.890307569, -29.115860462)],
                knots=[0, 0, 0, 0, 1.50870248, 2.923994413, 4.243638183, 5.463389085, 6.60625131, 7.658463092, 8.633168196, 9.543499728, 10.394265693, 11.20201185, 11.98019515, 12.743837022, 13.516301738, 14.309116721, 15.129666499, 16, 16, 16, 16], degree=3))
            add(Edge.make_bspline(
                [(20.890307569, -29.115860462), (20.836888052, -29.113860582), (20.731792627, -29.109926098), (20.577605949, -29.08328872), (20.431278661, -29.037401328), (20.292554261, -28.972494441), (20.161048263, -28.890514566), (20.037037811, -28.789829672), (19.923549635, -28.668805966), (19.813059733, -28.532748539), (19.714981126, -28.371841479), (19.631556022, -28.185280667), (19.561076018, -27.972767479), (19.502614059, -27.735154885), (19.459074354, -27.470874255), (19.427488834, -27.181406496), (19.406231962, -26.86561241), (19.404651566, -26.646453379), (19.403830297, -26.532565007)],
                knots=[0, 0, 0, 0, 0.767064978, 1.509093008, 2.239234133, 2.962992384, 3.702604544, 4.459666546, 5.24957235, 6.081234809, 6.972826761, 7.946696209, 9.00988814, 10.184161048, 11.457135305, 12.853252474, 14.364758447, 16, 16, 16, 16], degree=3))
            add(Edge.make_bspline(
                [(19.403830297, -26.532565007), (19.405343313, -26.41147649), (19.408246136, -26.179160165), (19.4265832, -25.845544201), (19.460122793, -25.541240094), (19.505983736, -25.265890236), (19.565277062, -25.019515889), (19.638180282, -24.802581782), (19.724031949, -24.614256394), (19.824861367, -24.454207089), (19.9380296, -24.320016414), (20.055058691, -24.20194265), (20.181610946, -24.104387273), (20.313449939, -24.022069601), (20.453651131, -23.959560534), (20.601126046, -23.914985992), (20.755273234, -23.885984152), (20.860912228, -23.883286137), (20.9143606, -23.881921068)],
                knots=[0, 0, 0, 0, 1.696240751, 3.25435002, 4.678185503, 5.982669853, 7.1621562, 8.224110319, 9.183849441, 10.054717565, 10.864316389, 11.638635857, 12.3788924, 13.097379862, 13.811243946, 14.5217872, 15.252093721, 16, 16, 16, 16], degree=3))
            Line((20.9143606, -23.881921068), (20.931197721, -23.881921068))
        make_face()
        with BuildLine():
            add(Edge.make_bspline(
                [(20.902334084, -24.882527129), (20.875471577, -24.884870991), (20.820892064, -24.889633275), (20.742813172, -24.929610862), (20.672853012, -24.993841058), (20.61302329, -25.063342849), (20.574863691, -25.147278796), (20.549528727, -25.242115173), (20.52960129, -25.366715462), (20.511817776, -25.521619069), (20.497717132, -25.706149249), (20.488816901, -25.921545642), (20.482842083, -26.166925762), (20.481902018, -26.34093843), (20.481406054, -26.432744932)],
                knots=[0, 0, 0, 0, 0.555089739, 1.127836905, 1.776342633, 2.521778993, 3.009072645, 3.674991373, 4.552665314, 5.624338466, 6.908813976, 8.390474787, 10.095668052, 12, 12, 12, 12], degree=3))
            add(Edge.make_bspline(
                [(20.481406054, -26.432744932), (20.481945816, -26.534170548), (20.482965706, -26.725816263), (20.488362251, -26.996086799), (20.499121627, -27.232267848), (20.513254629, -27.434806561), (20.530099199, -27.603936191), (20.551916511, -27.739197856), (20.577922908, -27.841013489), (20.617450756, -27.929377897), (20.678503158, -28.001478729), (20.750060893, -28.066794249), (20.828707046, -28.108210985), (20.883868692, -28.112946479), (20.910752645, -28.115254401)],
                knots=[0, 0, 0, 0, 1.953528676, 3.691231172, 5.206184117, 6.506653282, 7.601487946, 8.478619439, 9.143630876, 9.62034953, 10.329399348, 10.942446392, 11.484583531, 12, 12, 12, 12], degree=3))
            add(Edge.make_bspline(
                [(20.910752645, -28.115254401), (20.93049651, -28.114439123), (20.969437533, -28.112831143), (21.024801567, -28.096989041), (21.074883049, -28.070519149), (21.120060306, -28.034248702), (21.158040543, -27.985579189), (21.193751652, -27.929498826), (21.220495823, -27.86133495), (21.244716879, -27.783813426), (21.265207075, -27.693334798), (21.280994345, -27.589547907), (21.295689702, -27.471659753), (21.30728519, -27.340070415), (21.316828242, -27.193711688), (21.324150821, -27.033737078), (21.327370131, -26.859299015), (21.327831892, -26.738620097), (21.328072721, -26.675680538)],
                knots=[0, 0, 0, 0, 0.582331179, 1.14853764, 1.683660151, 2.247880787, 2.84543266, 3.499589125, 4.205728503, 4.99995591, 5.899311367, 6.943075691, 8.10079055, 9.409103481, 10.845466559, 12.434274638, 14.140311608, 16, 16, 16, 16], degree=3))
            Line((21.328072721, -26.675680538), (21.328072721, -26.425529023))
            add(Edge.make_bspline(
                [(21.328072721, -26.425529023), (21.327964777, -26.346952757), (21.327759328, -26.197400118), (21.322924549, -25.984090607), (21.31500423, -25.793187971), (21.30274379, -25.624401554), (21.28904144, -25.477487909), (21.2715248, -25.352135589), (21.250379714, -25.248857772), (21.22658848, -25.165182117), (21.197236366, -25.097740853), (21.167163941, -25.040324075), (21.132336877, -24.992213258), (21.095737604, -24.951666647), (21.053429134, -24.921492247), (21.009472024, -24.89753721), (20.960631425, -24.885816856), (20.927636139, -24.88364067), (20.910752645, -24.882527129)],
                knots=[0, 0, 0, 0, 2.191769581, 4.171551293, 5.951267545, 7.520785486, 8.891616004, 10.066614677, 11.049135632, 11.831021187, 12.487359542, 13.097797181, 13.634666562, 14.140969097, 14.612885563, 15.077996148, 15.528216039, 16, 16, 16, 16], degree=3))
            Line((20.910752645, -24.882527129), (20.902334084, -24.882527129))
        make_face(mode=Mode.SUBTRACT)
    extrude(amount=-CUT_EXTRUDE6_DEPTH, mode=Mode.SUBTRACT)


solid = part.part
